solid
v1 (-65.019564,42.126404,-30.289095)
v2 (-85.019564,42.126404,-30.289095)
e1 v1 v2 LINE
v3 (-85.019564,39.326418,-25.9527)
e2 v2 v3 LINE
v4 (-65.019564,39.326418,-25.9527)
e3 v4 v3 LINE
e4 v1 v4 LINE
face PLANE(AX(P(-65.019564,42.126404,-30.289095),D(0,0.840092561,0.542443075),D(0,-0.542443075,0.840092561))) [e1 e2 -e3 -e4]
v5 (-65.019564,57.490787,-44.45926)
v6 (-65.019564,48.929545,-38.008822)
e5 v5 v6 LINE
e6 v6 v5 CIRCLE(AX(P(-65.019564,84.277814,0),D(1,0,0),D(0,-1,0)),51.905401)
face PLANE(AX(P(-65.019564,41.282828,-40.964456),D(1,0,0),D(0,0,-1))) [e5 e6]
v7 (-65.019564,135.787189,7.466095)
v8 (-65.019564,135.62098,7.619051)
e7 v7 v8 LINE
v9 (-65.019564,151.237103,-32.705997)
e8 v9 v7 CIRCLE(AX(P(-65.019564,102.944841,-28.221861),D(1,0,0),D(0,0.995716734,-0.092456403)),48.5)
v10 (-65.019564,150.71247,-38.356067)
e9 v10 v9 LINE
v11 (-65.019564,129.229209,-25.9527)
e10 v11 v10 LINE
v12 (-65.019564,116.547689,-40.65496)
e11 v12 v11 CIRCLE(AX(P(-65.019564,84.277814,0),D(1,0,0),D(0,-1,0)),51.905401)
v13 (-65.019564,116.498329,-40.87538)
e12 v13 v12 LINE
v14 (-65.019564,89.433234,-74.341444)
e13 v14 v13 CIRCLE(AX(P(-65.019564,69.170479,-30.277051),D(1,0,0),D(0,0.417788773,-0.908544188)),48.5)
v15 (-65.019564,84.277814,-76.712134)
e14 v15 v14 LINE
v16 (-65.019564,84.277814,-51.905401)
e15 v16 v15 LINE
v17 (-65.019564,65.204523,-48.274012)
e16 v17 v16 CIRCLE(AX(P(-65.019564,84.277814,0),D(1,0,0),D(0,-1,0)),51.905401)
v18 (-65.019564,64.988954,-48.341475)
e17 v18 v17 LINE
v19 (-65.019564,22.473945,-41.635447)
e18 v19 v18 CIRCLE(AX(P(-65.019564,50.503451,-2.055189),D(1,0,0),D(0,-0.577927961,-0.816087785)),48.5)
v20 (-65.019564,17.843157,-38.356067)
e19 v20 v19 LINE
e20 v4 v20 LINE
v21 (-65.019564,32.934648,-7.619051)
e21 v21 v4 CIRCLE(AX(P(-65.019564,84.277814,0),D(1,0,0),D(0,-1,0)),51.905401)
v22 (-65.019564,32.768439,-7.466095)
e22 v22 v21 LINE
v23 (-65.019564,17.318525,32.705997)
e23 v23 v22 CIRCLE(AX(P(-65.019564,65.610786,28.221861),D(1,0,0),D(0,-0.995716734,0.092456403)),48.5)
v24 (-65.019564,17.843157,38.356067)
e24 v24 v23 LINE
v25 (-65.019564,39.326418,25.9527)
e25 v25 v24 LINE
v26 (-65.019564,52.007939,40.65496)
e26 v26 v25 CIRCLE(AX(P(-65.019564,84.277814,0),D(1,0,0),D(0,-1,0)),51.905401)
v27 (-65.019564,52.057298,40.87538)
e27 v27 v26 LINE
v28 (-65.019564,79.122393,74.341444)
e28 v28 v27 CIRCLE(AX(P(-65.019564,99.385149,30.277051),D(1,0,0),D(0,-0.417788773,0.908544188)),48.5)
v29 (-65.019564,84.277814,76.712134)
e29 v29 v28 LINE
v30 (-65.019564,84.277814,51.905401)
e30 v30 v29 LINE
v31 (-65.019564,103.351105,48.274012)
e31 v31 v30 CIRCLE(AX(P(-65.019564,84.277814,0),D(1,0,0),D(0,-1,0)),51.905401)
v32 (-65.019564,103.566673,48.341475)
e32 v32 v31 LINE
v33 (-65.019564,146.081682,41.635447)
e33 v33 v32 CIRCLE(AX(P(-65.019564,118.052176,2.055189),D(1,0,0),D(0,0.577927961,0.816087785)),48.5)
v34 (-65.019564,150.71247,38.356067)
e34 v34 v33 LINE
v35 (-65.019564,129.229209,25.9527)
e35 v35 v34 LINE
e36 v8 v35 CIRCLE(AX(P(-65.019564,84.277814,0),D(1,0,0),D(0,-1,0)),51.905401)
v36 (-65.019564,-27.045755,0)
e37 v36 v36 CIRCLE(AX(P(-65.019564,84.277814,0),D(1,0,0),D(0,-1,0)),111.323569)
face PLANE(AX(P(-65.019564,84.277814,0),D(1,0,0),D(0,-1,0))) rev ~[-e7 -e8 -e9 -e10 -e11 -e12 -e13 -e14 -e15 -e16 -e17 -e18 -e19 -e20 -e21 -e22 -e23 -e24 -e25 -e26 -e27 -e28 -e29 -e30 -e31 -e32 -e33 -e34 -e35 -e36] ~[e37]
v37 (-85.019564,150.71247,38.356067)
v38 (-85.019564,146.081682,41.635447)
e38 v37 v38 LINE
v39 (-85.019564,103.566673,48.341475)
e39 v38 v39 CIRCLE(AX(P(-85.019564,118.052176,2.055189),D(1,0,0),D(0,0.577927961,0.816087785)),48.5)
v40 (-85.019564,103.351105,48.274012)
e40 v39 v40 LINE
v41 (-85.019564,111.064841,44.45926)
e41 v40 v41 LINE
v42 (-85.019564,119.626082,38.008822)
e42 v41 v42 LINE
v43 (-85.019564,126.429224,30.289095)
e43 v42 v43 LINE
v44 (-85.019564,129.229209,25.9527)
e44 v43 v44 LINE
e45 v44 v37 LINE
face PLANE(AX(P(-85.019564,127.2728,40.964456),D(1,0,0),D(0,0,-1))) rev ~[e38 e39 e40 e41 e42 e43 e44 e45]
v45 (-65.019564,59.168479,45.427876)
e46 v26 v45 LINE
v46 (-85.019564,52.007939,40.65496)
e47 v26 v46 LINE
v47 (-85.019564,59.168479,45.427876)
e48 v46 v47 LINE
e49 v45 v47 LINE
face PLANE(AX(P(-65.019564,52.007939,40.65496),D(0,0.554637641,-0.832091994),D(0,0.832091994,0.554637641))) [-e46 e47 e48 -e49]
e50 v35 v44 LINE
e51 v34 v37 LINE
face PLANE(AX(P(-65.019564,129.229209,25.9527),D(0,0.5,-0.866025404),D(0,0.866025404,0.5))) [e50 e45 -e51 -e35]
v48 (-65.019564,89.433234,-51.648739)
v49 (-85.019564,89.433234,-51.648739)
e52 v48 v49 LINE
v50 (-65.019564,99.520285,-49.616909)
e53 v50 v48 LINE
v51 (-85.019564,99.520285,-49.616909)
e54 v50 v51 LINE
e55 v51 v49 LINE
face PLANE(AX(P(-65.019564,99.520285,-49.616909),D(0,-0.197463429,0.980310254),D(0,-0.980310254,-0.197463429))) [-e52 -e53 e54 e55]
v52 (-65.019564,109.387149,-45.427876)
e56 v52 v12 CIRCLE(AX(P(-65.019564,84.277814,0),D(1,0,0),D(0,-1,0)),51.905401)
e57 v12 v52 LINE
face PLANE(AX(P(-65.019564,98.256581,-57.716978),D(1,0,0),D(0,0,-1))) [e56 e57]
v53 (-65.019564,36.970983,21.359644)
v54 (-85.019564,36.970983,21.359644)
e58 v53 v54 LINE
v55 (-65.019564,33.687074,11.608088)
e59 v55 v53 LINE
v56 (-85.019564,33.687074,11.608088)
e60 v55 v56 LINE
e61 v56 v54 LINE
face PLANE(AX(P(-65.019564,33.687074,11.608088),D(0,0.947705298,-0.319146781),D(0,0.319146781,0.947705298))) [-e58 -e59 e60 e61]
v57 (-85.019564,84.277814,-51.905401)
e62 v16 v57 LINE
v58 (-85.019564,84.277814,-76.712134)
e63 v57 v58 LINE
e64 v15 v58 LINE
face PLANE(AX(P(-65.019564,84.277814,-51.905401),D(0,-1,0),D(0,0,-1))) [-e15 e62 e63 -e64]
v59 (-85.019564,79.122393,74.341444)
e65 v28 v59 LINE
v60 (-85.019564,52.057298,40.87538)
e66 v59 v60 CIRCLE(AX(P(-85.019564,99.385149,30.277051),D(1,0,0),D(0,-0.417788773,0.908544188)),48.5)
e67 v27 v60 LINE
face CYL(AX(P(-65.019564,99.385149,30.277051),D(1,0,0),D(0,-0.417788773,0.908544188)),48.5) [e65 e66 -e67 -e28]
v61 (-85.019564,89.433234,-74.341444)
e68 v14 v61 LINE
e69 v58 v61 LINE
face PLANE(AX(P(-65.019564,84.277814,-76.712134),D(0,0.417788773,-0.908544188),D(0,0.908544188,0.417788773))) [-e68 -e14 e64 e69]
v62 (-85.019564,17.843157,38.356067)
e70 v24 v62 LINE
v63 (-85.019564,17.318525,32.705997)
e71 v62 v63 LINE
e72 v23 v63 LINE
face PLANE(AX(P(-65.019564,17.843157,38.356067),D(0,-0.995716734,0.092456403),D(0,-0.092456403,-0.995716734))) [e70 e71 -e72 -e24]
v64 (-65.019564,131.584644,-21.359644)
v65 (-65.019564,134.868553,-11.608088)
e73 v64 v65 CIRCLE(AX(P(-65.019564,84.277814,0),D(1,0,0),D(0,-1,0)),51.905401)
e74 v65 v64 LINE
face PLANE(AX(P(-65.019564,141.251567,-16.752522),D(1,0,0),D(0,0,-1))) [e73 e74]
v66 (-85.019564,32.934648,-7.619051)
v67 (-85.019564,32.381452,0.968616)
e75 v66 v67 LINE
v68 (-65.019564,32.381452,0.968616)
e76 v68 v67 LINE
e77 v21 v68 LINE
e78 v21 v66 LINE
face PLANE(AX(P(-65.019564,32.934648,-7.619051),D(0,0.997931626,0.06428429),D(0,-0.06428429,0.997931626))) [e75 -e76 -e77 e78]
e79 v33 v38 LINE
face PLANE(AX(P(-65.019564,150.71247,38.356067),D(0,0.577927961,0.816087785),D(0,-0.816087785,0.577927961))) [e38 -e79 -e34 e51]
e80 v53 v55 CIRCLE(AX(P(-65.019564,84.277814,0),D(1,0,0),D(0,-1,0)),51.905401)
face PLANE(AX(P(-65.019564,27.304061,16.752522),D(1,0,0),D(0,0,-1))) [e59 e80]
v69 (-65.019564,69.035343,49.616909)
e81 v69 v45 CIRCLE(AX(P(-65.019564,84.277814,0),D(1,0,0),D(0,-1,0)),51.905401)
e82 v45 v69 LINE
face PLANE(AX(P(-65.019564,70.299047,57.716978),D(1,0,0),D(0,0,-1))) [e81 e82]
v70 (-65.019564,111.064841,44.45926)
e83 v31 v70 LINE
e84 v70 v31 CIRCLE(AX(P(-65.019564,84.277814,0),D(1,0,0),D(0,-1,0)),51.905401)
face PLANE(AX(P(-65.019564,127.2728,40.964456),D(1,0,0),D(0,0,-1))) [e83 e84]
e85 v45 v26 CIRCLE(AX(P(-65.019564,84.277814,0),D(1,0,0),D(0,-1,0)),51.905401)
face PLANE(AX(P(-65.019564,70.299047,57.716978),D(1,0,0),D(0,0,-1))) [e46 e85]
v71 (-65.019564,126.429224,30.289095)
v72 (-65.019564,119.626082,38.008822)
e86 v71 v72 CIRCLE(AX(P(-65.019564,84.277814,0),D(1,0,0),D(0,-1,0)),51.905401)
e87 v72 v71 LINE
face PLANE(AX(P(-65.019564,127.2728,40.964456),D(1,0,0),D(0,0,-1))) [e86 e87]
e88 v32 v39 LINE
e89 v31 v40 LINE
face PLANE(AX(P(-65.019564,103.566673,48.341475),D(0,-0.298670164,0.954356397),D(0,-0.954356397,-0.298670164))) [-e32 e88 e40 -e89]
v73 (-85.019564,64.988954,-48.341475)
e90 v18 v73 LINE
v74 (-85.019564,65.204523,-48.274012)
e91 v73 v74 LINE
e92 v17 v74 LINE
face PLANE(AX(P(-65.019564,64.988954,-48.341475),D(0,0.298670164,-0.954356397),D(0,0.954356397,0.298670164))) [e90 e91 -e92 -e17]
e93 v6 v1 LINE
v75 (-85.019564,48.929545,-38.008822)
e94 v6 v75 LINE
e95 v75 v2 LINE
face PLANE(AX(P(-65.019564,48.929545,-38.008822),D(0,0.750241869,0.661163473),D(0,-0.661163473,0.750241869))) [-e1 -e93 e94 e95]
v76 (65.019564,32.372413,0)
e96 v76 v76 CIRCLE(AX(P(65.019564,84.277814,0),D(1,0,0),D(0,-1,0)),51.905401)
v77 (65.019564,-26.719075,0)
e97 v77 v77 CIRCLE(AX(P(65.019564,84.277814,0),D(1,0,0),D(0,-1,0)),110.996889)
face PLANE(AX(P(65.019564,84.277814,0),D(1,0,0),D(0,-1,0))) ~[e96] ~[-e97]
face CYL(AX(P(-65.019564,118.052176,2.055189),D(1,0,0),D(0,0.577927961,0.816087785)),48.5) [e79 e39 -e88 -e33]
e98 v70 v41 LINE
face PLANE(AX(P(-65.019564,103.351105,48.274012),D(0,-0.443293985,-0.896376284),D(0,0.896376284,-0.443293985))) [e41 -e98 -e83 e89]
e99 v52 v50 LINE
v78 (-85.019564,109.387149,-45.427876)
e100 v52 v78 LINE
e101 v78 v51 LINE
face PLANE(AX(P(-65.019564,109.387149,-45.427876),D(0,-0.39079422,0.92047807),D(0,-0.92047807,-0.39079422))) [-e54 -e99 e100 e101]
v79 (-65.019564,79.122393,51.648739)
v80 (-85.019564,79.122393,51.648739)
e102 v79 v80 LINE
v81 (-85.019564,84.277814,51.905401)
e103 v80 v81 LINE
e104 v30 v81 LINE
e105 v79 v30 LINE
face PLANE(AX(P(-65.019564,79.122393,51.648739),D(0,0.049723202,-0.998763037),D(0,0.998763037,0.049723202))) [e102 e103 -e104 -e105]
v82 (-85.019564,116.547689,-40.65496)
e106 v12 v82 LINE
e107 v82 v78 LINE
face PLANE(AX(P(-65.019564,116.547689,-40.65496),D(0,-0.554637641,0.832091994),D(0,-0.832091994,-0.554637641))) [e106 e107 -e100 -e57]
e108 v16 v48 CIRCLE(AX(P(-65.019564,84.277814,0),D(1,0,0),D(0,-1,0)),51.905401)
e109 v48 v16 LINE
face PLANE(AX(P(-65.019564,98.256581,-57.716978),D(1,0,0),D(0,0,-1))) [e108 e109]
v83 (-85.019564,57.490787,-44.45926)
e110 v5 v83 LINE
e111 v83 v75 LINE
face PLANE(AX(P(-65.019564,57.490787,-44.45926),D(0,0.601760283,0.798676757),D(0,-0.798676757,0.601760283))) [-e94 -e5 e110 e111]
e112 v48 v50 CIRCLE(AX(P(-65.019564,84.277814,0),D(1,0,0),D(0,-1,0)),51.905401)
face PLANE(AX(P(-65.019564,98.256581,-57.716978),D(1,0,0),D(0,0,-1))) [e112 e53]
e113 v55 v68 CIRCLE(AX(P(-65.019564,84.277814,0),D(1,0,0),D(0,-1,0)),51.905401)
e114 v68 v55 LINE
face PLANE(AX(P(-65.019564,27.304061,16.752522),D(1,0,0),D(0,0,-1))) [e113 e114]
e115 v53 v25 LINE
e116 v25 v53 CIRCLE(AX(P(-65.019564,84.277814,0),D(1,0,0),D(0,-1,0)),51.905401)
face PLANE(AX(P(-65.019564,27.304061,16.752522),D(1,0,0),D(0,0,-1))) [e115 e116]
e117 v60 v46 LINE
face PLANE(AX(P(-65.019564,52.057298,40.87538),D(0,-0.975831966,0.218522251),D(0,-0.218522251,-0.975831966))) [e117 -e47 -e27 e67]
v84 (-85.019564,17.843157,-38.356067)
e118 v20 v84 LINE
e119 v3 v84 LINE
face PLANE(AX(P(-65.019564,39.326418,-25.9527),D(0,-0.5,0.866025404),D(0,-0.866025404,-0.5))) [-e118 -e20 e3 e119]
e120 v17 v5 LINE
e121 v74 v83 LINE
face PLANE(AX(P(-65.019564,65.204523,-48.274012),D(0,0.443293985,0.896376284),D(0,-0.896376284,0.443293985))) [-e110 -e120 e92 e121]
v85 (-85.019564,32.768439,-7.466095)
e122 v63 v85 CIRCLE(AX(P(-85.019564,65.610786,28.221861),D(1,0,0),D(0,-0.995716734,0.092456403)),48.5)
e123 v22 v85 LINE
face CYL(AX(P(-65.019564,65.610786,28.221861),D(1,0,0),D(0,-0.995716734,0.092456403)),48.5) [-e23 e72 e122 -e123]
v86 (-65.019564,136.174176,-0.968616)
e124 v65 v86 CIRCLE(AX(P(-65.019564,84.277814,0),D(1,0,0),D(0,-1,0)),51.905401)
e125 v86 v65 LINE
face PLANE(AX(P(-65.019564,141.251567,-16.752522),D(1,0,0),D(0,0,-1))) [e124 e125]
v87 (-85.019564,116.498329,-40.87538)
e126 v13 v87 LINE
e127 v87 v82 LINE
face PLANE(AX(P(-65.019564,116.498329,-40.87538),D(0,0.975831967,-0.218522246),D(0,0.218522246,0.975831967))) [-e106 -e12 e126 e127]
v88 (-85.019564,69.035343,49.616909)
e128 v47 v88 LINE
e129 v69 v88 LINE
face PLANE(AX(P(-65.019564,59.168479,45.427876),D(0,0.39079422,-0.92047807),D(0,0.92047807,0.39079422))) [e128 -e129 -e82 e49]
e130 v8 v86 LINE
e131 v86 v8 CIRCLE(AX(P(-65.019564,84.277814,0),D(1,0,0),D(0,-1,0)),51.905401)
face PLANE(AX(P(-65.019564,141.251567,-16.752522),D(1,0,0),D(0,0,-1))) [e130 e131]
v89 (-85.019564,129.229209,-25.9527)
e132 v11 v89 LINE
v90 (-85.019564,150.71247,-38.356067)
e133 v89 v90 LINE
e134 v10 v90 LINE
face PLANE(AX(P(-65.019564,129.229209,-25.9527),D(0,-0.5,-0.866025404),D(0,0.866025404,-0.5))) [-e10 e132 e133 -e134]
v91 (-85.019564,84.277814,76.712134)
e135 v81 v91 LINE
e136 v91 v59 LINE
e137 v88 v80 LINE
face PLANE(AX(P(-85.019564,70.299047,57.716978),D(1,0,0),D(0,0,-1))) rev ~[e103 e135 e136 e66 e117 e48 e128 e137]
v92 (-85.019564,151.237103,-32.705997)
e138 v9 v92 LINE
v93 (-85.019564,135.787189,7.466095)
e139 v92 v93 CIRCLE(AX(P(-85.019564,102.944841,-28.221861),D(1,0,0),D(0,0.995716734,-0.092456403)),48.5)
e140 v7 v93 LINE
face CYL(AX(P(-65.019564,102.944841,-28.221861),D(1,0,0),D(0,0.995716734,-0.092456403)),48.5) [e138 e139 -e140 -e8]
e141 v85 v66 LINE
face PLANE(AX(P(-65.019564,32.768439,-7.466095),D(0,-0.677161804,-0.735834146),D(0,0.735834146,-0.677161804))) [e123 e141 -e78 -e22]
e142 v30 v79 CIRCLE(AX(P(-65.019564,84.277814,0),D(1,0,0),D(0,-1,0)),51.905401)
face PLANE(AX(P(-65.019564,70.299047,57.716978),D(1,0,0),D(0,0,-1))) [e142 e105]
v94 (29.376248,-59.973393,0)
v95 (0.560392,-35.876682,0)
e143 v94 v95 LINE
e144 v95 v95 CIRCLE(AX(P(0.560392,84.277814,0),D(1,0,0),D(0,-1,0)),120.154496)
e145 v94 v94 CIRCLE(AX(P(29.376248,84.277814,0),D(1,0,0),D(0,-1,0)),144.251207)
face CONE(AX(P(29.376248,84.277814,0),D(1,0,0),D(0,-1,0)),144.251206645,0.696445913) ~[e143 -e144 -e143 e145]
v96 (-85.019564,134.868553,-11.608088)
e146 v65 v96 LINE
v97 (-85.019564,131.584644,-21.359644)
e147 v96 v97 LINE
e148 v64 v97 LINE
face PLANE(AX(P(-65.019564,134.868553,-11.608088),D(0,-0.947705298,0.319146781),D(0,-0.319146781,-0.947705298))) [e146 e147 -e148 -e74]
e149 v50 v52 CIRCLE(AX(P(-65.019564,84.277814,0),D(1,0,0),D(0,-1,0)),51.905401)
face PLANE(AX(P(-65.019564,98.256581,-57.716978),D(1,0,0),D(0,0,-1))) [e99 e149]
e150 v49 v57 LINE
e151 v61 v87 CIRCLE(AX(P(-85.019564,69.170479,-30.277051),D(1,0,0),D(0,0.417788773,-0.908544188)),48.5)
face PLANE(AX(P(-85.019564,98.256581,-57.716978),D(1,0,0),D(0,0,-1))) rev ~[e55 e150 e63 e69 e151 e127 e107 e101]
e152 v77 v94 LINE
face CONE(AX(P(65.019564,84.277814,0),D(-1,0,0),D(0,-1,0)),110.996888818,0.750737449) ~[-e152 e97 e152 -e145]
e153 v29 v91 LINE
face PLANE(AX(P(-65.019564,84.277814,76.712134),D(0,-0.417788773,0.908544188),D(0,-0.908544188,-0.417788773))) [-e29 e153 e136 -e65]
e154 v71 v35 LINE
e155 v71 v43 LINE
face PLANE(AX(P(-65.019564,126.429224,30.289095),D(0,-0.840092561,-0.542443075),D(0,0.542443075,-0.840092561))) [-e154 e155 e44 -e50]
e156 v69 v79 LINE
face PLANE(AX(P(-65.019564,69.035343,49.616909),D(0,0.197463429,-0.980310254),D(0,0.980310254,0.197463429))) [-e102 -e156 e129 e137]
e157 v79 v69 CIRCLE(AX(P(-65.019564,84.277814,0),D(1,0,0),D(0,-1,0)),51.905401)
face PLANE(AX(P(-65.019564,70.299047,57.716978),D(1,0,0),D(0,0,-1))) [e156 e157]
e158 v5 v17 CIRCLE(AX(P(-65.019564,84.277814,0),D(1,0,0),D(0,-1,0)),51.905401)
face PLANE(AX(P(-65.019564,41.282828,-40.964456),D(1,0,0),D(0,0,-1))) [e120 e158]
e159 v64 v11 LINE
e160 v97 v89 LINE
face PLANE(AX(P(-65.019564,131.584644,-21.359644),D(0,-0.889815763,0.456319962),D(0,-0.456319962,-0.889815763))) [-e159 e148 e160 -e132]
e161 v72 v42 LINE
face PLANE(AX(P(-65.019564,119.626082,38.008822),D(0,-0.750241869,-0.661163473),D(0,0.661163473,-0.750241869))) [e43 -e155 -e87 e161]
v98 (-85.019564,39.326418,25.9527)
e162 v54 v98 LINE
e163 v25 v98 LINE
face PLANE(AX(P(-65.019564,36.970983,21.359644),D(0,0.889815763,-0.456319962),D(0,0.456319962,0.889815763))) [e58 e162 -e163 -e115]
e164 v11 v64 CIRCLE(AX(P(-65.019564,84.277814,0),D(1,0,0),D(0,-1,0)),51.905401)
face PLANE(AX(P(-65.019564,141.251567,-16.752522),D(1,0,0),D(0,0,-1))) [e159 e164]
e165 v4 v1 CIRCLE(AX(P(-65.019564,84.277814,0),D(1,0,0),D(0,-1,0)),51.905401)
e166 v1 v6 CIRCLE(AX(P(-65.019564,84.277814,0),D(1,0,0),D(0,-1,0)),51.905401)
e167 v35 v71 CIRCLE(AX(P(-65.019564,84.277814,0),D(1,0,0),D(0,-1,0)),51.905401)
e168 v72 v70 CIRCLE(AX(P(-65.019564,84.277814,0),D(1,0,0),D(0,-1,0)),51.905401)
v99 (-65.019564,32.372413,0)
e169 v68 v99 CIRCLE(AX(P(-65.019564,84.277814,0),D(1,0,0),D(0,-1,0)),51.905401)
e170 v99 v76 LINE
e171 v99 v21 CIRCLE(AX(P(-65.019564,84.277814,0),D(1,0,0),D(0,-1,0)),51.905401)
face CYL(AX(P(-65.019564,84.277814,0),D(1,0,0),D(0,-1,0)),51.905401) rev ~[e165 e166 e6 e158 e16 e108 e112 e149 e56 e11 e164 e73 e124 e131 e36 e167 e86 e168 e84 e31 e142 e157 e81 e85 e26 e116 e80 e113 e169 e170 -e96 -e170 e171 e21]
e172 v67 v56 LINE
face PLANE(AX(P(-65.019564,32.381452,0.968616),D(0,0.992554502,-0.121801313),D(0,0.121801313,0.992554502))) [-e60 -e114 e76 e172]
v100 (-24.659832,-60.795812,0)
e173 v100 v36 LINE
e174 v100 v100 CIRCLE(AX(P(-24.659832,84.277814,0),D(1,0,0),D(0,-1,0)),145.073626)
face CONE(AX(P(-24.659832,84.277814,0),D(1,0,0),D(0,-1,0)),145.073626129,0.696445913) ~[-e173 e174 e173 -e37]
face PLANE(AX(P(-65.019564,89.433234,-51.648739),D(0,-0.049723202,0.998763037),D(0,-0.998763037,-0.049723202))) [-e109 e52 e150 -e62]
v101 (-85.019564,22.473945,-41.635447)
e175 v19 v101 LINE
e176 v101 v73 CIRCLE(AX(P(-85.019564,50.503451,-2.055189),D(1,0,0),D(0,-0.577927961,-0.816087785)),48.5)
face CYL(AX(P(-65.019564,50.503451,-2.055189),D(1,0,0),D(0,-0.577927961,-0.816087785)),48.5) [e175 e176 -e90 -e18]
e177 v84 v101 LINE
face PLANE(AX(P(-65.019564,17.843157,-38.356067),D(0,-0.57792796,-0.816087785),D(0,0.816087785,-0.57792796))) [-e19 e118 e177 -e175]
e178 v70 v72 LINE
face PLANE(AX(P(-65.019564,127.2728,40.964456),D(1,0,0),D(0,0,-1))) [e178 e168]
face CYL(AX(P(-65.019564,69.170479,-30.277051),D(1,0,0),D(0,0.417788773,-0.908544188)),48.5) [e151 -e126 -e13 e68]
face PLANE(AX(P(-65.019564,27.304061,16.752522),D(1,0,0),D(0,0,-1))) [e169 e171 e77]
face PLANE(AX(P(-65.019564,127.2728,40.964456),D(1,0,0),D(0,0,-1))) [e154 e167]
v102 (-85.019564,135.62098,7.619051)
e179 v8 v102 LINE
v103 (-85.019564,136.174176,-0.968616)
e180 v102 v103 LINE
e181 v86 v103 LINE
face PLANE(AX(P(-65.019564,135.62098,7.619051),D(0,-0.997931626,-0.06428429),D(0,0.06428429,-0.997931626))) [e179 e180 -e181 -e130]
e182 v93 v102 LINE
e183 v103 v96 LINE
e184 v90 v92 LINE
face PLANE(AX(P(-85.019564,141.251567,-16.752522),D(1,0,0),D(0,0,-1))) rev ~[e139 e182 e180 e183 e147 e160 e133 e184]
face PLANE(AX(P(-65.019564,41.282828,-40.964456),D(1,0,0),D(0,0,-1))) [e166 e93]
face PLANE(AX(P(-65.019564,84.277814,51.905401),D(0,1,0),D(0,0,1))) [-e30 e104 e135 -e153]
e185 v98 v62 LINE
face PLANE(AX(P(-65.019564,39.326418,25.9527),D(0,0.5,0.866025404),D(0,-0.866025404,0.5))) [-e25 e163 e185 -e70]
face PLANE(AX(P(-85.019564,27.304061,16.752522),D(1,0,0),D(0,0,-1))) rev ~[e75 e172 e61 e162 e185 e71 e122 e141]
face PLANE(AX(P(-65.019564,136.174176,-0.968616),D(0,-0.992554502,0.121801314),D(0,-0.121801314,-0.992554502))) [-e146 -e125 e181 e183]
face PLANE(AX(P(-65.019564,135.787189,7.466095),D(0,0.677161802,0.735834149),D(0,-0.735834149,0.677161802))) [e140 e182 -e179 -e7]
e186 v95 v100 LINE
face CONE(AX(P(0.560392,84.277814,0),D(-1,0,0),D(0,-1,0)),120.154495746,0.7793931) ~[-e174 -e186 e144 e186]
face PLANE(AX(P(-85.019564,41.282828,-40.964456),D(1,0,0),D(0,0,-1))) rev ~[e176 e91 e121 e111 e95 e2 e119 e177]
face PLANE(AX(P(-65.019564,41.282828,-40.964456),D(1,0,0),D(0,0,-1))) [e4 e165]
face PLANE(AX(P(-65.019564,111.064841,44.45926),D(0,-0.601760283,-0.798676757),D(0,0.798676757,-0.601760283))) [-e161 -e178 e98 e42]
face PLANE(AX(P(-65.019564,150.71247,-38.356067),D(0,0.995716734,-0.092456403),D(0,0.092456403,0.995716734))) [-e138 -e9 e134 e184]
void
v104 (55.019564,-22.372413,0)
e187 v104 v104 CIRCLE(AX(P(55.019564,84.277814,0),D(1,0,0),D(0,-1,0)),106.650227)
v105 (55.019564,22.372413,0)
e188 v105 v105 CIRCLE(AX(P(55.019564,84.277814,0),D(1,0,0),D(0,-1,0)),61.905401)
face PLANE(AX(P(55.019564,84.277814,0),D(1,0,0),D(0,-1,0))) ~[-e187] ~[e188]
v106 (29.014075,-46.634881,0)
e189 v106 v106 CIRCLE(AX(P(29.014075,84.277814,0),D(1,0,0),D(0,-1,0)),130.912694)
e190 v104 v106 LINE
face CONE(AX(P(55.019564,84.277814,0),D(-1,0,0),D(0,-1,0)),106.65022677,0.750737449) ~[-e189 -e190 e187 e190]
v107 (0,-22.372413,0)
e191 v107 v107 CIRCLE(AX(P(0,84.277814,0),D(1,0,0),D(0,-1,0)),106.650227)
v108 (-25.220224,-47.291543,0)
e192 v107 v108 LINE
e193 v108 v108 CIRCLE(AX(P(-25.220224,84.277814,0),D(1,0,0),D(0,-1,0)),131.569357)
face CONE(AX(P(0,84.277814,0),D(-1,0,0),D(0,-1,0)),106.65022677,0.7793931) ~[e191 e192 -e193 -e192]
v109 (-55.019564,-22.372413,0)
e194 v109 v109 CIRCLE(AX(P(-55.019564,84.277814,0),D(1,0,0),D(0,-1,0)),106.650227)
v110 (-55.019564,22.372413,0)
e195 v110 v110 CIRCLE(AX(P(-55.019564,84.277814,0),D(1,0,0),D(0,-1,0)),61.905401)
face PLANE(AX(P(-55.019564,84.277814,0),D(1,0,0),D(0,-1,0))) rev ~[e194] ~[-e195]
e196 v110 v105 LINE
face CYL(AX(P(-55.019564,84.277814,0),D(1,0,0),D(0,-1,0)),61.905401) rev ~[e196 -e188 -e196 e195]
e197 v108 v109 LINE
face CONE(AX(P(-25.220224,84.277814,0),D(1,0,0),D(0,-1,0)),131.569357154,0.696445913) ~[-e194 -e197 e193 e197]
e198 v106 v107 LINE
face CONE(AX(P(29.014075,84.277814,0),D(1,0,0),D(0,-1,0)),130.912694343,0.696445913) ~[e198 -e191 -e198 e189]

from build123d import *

# Parameters (mm, degrees)
BOSS_EXTRUDE3_DEPTH = 20


with BuildPart() as part:
    # Sketch1 → Revolve-Thin2 (revolve)
    with BuildSketch(Plane.XY):
        Polygon((29.376248058, -59.973392874), (0.560391904, -35.876681975), (-24.659832096, -60.795812358), (-65.01956382, -27.045755372), (-65.01956382, 32.372412999), (65.01956382, 32.372412999), (65.01956382, -26.719075047), align=None)
        Polygon((29.014074927, -46.634880572), (0, -22.372412999), (-25.220224001, -47.291543383), (-55.01956382, -22.372412999), (-55.01956382, 22.372412999), (55.01956382, 22.372412999), (55.01956382, -22.372412999), align=None, mode=Mode.SUBTRACT)
    revolve(axis=Axis((-55.01956382, 84.277813771, 0), (1, 0, 0)))

    # Sketch2 → Boss-Extrude3 (add)
    with BuildSketch(Plane.ZY.offset(65.01956382)):
        with BuildLine():
            Line((-51.905400772, 84.277813771), (-76.712133876, 84.277813771))
            Line((-76.712133876, 84.277813771), (-74.341443656, 89.433234307))
            ThreePointArc((-74.341443656, 89.433234307), (-60.775134761, 106.881443528), (-40.875379676, 116.498329179))
            Line((-40.875379676, 116.498329179), (-40.654960426, 116.547688609))
            Line((-40.654960426, 116.547688609), (-45.427875958, 109.387148992))
            Line((-45.427875958, 109.387148992), (-49.616909483, 99.520284788))
            Line((-49.616909483, 99.520284788), (-51.648739272, 89.433234307))
            Line((-51.648739272, 89.433234307), (-51.905400772, 84.277813771))
        make_face()
        with BuildLine():
            Line((-25.952700386, 129.229209434), (-38.356066938, 150.712470486))
            Line((-38.356066938, 150.712470486), (-32.705996677, 151.2371028))
            ThreePointArc((-32.705996677, 151.2371028), (-10.812249793, 148.212439271), (7.466095028, 135.787188664))
            Line((7.466095028, 135.787188664), (7.619051174, 135.620979709))
            Line((7.619051174, 135.620979709), (-0.968615806, 136.174176002))
            Line((-0.968615806, 136.174176002), (-11.608087624, 134.868553349))
            Line((-11.608087624, 134.868553349), (-21.359644485, 131.584644322))
            Line((-21.359644485, 131.584644322), (-25.952700386, 129.229209434))
        make_face()
        with BuildLine():
            Line((25.952700386, 129.229209434), (38.356066938, 150.712470486))
            Line((38.356066938, 150.712470486), (41.635446979, 146.081682264))
            ThreePointArc((41.635446979, 146.081682264), (49.962884968, 125.608809514), (48.341474704, 103.566673256))
            Line((48.341474704, 103.566673256), (48.2740116, 103.351104871))
            Line((48.2740116, 103.351104871), (44.459260153, 111.064840781))
            Line((44.459260153, 111.064840781), (38.008821859, 119.626082332))
            Line((38.008821859, 119.626082332), (30.289094787, 126.429223787))
            Line((30.289094787, 126.429223787), (25.952700386, 129.229209434))
        make_face()
        with BuildLine():
            Line((51.905400772, 84.277813771), (76.712133876, 84.277813771))
            Line((76.712133876, 84.277813771), (74.341443656, 79.122393235))
            ThreePointArc((74.341443656, 79.122393235), (60.775134761, 61.674184014), (40.875379676, 52.057298364))
            Line((40.875379676, 52.057298364), (40.654960426, 52.007938933))
            Line((40.654960426, 52.007938933), (45.427875958, 59.16847855))
            Line((45.427875958, 59.16847855), (49.616909483, 69.035342754))
            Line((49.616909483, 69.035342754), (51.648739272, 79.122393235))
            Line((51.648739272, 79.122393235), (51.905400772, 84.277813771))
        make_face()
        with BuildLine():
            Line((25.952700386, 39.326418109), (38.356066938, 17.843157056))
            Line((38.356066938, 17.843157056), (32.705996677, 17.318524743))
            ThreePointArc((32.705996677, 17.318524743), (10.812249793, 20.343188271), (-7.466095028, 32.768438879))
            Line((-7.466095028, 32.768438879), (-7.619051174, 32.934647833))
            Line((-7.619051174, 32.934647833), (0.968615806, 32.381451541))
            Line((0.968615806, 32.381451541), (11.608087624, 33.687074193))
            Line((11.608087624, 33.687074193), (21.359644485, 36.97098322))
            Line((21.359644485, 36.97098322), (25.952700386, 39.326418109))
        make_face()
        with BuildLine():
            Line((-25.952700386, 39.326418109), (-38.356066938, 17.843157056))
            Line((-38.356066938, 17.843157056), (-41.635446979, 22.473945279))
            ThreePointArc((-41.635446979, 22.473945279), (-49.962884968, 42.946818028), (-48.341474704, 64.988954286))
            Line((-48.341474704, 64.988954286), (-48.2740116, 65.204522671))
            Line((-48.2740116, 65.204522671), (-44.459260153, 57.490786762))
            Line((-44.459260153, 57.490786762), (-38.008821859, 48.929545211))
            Line((-38.008821859, 48.929545211), (-30.289094787, 42.126403756))
            Line((-30.289094787, 42.126403756), (-25.952700386, 39.326418109))
        make_face()
    extrude(amount=BOSS_EXTRUDE3_DEPTH)


solid = part.part
